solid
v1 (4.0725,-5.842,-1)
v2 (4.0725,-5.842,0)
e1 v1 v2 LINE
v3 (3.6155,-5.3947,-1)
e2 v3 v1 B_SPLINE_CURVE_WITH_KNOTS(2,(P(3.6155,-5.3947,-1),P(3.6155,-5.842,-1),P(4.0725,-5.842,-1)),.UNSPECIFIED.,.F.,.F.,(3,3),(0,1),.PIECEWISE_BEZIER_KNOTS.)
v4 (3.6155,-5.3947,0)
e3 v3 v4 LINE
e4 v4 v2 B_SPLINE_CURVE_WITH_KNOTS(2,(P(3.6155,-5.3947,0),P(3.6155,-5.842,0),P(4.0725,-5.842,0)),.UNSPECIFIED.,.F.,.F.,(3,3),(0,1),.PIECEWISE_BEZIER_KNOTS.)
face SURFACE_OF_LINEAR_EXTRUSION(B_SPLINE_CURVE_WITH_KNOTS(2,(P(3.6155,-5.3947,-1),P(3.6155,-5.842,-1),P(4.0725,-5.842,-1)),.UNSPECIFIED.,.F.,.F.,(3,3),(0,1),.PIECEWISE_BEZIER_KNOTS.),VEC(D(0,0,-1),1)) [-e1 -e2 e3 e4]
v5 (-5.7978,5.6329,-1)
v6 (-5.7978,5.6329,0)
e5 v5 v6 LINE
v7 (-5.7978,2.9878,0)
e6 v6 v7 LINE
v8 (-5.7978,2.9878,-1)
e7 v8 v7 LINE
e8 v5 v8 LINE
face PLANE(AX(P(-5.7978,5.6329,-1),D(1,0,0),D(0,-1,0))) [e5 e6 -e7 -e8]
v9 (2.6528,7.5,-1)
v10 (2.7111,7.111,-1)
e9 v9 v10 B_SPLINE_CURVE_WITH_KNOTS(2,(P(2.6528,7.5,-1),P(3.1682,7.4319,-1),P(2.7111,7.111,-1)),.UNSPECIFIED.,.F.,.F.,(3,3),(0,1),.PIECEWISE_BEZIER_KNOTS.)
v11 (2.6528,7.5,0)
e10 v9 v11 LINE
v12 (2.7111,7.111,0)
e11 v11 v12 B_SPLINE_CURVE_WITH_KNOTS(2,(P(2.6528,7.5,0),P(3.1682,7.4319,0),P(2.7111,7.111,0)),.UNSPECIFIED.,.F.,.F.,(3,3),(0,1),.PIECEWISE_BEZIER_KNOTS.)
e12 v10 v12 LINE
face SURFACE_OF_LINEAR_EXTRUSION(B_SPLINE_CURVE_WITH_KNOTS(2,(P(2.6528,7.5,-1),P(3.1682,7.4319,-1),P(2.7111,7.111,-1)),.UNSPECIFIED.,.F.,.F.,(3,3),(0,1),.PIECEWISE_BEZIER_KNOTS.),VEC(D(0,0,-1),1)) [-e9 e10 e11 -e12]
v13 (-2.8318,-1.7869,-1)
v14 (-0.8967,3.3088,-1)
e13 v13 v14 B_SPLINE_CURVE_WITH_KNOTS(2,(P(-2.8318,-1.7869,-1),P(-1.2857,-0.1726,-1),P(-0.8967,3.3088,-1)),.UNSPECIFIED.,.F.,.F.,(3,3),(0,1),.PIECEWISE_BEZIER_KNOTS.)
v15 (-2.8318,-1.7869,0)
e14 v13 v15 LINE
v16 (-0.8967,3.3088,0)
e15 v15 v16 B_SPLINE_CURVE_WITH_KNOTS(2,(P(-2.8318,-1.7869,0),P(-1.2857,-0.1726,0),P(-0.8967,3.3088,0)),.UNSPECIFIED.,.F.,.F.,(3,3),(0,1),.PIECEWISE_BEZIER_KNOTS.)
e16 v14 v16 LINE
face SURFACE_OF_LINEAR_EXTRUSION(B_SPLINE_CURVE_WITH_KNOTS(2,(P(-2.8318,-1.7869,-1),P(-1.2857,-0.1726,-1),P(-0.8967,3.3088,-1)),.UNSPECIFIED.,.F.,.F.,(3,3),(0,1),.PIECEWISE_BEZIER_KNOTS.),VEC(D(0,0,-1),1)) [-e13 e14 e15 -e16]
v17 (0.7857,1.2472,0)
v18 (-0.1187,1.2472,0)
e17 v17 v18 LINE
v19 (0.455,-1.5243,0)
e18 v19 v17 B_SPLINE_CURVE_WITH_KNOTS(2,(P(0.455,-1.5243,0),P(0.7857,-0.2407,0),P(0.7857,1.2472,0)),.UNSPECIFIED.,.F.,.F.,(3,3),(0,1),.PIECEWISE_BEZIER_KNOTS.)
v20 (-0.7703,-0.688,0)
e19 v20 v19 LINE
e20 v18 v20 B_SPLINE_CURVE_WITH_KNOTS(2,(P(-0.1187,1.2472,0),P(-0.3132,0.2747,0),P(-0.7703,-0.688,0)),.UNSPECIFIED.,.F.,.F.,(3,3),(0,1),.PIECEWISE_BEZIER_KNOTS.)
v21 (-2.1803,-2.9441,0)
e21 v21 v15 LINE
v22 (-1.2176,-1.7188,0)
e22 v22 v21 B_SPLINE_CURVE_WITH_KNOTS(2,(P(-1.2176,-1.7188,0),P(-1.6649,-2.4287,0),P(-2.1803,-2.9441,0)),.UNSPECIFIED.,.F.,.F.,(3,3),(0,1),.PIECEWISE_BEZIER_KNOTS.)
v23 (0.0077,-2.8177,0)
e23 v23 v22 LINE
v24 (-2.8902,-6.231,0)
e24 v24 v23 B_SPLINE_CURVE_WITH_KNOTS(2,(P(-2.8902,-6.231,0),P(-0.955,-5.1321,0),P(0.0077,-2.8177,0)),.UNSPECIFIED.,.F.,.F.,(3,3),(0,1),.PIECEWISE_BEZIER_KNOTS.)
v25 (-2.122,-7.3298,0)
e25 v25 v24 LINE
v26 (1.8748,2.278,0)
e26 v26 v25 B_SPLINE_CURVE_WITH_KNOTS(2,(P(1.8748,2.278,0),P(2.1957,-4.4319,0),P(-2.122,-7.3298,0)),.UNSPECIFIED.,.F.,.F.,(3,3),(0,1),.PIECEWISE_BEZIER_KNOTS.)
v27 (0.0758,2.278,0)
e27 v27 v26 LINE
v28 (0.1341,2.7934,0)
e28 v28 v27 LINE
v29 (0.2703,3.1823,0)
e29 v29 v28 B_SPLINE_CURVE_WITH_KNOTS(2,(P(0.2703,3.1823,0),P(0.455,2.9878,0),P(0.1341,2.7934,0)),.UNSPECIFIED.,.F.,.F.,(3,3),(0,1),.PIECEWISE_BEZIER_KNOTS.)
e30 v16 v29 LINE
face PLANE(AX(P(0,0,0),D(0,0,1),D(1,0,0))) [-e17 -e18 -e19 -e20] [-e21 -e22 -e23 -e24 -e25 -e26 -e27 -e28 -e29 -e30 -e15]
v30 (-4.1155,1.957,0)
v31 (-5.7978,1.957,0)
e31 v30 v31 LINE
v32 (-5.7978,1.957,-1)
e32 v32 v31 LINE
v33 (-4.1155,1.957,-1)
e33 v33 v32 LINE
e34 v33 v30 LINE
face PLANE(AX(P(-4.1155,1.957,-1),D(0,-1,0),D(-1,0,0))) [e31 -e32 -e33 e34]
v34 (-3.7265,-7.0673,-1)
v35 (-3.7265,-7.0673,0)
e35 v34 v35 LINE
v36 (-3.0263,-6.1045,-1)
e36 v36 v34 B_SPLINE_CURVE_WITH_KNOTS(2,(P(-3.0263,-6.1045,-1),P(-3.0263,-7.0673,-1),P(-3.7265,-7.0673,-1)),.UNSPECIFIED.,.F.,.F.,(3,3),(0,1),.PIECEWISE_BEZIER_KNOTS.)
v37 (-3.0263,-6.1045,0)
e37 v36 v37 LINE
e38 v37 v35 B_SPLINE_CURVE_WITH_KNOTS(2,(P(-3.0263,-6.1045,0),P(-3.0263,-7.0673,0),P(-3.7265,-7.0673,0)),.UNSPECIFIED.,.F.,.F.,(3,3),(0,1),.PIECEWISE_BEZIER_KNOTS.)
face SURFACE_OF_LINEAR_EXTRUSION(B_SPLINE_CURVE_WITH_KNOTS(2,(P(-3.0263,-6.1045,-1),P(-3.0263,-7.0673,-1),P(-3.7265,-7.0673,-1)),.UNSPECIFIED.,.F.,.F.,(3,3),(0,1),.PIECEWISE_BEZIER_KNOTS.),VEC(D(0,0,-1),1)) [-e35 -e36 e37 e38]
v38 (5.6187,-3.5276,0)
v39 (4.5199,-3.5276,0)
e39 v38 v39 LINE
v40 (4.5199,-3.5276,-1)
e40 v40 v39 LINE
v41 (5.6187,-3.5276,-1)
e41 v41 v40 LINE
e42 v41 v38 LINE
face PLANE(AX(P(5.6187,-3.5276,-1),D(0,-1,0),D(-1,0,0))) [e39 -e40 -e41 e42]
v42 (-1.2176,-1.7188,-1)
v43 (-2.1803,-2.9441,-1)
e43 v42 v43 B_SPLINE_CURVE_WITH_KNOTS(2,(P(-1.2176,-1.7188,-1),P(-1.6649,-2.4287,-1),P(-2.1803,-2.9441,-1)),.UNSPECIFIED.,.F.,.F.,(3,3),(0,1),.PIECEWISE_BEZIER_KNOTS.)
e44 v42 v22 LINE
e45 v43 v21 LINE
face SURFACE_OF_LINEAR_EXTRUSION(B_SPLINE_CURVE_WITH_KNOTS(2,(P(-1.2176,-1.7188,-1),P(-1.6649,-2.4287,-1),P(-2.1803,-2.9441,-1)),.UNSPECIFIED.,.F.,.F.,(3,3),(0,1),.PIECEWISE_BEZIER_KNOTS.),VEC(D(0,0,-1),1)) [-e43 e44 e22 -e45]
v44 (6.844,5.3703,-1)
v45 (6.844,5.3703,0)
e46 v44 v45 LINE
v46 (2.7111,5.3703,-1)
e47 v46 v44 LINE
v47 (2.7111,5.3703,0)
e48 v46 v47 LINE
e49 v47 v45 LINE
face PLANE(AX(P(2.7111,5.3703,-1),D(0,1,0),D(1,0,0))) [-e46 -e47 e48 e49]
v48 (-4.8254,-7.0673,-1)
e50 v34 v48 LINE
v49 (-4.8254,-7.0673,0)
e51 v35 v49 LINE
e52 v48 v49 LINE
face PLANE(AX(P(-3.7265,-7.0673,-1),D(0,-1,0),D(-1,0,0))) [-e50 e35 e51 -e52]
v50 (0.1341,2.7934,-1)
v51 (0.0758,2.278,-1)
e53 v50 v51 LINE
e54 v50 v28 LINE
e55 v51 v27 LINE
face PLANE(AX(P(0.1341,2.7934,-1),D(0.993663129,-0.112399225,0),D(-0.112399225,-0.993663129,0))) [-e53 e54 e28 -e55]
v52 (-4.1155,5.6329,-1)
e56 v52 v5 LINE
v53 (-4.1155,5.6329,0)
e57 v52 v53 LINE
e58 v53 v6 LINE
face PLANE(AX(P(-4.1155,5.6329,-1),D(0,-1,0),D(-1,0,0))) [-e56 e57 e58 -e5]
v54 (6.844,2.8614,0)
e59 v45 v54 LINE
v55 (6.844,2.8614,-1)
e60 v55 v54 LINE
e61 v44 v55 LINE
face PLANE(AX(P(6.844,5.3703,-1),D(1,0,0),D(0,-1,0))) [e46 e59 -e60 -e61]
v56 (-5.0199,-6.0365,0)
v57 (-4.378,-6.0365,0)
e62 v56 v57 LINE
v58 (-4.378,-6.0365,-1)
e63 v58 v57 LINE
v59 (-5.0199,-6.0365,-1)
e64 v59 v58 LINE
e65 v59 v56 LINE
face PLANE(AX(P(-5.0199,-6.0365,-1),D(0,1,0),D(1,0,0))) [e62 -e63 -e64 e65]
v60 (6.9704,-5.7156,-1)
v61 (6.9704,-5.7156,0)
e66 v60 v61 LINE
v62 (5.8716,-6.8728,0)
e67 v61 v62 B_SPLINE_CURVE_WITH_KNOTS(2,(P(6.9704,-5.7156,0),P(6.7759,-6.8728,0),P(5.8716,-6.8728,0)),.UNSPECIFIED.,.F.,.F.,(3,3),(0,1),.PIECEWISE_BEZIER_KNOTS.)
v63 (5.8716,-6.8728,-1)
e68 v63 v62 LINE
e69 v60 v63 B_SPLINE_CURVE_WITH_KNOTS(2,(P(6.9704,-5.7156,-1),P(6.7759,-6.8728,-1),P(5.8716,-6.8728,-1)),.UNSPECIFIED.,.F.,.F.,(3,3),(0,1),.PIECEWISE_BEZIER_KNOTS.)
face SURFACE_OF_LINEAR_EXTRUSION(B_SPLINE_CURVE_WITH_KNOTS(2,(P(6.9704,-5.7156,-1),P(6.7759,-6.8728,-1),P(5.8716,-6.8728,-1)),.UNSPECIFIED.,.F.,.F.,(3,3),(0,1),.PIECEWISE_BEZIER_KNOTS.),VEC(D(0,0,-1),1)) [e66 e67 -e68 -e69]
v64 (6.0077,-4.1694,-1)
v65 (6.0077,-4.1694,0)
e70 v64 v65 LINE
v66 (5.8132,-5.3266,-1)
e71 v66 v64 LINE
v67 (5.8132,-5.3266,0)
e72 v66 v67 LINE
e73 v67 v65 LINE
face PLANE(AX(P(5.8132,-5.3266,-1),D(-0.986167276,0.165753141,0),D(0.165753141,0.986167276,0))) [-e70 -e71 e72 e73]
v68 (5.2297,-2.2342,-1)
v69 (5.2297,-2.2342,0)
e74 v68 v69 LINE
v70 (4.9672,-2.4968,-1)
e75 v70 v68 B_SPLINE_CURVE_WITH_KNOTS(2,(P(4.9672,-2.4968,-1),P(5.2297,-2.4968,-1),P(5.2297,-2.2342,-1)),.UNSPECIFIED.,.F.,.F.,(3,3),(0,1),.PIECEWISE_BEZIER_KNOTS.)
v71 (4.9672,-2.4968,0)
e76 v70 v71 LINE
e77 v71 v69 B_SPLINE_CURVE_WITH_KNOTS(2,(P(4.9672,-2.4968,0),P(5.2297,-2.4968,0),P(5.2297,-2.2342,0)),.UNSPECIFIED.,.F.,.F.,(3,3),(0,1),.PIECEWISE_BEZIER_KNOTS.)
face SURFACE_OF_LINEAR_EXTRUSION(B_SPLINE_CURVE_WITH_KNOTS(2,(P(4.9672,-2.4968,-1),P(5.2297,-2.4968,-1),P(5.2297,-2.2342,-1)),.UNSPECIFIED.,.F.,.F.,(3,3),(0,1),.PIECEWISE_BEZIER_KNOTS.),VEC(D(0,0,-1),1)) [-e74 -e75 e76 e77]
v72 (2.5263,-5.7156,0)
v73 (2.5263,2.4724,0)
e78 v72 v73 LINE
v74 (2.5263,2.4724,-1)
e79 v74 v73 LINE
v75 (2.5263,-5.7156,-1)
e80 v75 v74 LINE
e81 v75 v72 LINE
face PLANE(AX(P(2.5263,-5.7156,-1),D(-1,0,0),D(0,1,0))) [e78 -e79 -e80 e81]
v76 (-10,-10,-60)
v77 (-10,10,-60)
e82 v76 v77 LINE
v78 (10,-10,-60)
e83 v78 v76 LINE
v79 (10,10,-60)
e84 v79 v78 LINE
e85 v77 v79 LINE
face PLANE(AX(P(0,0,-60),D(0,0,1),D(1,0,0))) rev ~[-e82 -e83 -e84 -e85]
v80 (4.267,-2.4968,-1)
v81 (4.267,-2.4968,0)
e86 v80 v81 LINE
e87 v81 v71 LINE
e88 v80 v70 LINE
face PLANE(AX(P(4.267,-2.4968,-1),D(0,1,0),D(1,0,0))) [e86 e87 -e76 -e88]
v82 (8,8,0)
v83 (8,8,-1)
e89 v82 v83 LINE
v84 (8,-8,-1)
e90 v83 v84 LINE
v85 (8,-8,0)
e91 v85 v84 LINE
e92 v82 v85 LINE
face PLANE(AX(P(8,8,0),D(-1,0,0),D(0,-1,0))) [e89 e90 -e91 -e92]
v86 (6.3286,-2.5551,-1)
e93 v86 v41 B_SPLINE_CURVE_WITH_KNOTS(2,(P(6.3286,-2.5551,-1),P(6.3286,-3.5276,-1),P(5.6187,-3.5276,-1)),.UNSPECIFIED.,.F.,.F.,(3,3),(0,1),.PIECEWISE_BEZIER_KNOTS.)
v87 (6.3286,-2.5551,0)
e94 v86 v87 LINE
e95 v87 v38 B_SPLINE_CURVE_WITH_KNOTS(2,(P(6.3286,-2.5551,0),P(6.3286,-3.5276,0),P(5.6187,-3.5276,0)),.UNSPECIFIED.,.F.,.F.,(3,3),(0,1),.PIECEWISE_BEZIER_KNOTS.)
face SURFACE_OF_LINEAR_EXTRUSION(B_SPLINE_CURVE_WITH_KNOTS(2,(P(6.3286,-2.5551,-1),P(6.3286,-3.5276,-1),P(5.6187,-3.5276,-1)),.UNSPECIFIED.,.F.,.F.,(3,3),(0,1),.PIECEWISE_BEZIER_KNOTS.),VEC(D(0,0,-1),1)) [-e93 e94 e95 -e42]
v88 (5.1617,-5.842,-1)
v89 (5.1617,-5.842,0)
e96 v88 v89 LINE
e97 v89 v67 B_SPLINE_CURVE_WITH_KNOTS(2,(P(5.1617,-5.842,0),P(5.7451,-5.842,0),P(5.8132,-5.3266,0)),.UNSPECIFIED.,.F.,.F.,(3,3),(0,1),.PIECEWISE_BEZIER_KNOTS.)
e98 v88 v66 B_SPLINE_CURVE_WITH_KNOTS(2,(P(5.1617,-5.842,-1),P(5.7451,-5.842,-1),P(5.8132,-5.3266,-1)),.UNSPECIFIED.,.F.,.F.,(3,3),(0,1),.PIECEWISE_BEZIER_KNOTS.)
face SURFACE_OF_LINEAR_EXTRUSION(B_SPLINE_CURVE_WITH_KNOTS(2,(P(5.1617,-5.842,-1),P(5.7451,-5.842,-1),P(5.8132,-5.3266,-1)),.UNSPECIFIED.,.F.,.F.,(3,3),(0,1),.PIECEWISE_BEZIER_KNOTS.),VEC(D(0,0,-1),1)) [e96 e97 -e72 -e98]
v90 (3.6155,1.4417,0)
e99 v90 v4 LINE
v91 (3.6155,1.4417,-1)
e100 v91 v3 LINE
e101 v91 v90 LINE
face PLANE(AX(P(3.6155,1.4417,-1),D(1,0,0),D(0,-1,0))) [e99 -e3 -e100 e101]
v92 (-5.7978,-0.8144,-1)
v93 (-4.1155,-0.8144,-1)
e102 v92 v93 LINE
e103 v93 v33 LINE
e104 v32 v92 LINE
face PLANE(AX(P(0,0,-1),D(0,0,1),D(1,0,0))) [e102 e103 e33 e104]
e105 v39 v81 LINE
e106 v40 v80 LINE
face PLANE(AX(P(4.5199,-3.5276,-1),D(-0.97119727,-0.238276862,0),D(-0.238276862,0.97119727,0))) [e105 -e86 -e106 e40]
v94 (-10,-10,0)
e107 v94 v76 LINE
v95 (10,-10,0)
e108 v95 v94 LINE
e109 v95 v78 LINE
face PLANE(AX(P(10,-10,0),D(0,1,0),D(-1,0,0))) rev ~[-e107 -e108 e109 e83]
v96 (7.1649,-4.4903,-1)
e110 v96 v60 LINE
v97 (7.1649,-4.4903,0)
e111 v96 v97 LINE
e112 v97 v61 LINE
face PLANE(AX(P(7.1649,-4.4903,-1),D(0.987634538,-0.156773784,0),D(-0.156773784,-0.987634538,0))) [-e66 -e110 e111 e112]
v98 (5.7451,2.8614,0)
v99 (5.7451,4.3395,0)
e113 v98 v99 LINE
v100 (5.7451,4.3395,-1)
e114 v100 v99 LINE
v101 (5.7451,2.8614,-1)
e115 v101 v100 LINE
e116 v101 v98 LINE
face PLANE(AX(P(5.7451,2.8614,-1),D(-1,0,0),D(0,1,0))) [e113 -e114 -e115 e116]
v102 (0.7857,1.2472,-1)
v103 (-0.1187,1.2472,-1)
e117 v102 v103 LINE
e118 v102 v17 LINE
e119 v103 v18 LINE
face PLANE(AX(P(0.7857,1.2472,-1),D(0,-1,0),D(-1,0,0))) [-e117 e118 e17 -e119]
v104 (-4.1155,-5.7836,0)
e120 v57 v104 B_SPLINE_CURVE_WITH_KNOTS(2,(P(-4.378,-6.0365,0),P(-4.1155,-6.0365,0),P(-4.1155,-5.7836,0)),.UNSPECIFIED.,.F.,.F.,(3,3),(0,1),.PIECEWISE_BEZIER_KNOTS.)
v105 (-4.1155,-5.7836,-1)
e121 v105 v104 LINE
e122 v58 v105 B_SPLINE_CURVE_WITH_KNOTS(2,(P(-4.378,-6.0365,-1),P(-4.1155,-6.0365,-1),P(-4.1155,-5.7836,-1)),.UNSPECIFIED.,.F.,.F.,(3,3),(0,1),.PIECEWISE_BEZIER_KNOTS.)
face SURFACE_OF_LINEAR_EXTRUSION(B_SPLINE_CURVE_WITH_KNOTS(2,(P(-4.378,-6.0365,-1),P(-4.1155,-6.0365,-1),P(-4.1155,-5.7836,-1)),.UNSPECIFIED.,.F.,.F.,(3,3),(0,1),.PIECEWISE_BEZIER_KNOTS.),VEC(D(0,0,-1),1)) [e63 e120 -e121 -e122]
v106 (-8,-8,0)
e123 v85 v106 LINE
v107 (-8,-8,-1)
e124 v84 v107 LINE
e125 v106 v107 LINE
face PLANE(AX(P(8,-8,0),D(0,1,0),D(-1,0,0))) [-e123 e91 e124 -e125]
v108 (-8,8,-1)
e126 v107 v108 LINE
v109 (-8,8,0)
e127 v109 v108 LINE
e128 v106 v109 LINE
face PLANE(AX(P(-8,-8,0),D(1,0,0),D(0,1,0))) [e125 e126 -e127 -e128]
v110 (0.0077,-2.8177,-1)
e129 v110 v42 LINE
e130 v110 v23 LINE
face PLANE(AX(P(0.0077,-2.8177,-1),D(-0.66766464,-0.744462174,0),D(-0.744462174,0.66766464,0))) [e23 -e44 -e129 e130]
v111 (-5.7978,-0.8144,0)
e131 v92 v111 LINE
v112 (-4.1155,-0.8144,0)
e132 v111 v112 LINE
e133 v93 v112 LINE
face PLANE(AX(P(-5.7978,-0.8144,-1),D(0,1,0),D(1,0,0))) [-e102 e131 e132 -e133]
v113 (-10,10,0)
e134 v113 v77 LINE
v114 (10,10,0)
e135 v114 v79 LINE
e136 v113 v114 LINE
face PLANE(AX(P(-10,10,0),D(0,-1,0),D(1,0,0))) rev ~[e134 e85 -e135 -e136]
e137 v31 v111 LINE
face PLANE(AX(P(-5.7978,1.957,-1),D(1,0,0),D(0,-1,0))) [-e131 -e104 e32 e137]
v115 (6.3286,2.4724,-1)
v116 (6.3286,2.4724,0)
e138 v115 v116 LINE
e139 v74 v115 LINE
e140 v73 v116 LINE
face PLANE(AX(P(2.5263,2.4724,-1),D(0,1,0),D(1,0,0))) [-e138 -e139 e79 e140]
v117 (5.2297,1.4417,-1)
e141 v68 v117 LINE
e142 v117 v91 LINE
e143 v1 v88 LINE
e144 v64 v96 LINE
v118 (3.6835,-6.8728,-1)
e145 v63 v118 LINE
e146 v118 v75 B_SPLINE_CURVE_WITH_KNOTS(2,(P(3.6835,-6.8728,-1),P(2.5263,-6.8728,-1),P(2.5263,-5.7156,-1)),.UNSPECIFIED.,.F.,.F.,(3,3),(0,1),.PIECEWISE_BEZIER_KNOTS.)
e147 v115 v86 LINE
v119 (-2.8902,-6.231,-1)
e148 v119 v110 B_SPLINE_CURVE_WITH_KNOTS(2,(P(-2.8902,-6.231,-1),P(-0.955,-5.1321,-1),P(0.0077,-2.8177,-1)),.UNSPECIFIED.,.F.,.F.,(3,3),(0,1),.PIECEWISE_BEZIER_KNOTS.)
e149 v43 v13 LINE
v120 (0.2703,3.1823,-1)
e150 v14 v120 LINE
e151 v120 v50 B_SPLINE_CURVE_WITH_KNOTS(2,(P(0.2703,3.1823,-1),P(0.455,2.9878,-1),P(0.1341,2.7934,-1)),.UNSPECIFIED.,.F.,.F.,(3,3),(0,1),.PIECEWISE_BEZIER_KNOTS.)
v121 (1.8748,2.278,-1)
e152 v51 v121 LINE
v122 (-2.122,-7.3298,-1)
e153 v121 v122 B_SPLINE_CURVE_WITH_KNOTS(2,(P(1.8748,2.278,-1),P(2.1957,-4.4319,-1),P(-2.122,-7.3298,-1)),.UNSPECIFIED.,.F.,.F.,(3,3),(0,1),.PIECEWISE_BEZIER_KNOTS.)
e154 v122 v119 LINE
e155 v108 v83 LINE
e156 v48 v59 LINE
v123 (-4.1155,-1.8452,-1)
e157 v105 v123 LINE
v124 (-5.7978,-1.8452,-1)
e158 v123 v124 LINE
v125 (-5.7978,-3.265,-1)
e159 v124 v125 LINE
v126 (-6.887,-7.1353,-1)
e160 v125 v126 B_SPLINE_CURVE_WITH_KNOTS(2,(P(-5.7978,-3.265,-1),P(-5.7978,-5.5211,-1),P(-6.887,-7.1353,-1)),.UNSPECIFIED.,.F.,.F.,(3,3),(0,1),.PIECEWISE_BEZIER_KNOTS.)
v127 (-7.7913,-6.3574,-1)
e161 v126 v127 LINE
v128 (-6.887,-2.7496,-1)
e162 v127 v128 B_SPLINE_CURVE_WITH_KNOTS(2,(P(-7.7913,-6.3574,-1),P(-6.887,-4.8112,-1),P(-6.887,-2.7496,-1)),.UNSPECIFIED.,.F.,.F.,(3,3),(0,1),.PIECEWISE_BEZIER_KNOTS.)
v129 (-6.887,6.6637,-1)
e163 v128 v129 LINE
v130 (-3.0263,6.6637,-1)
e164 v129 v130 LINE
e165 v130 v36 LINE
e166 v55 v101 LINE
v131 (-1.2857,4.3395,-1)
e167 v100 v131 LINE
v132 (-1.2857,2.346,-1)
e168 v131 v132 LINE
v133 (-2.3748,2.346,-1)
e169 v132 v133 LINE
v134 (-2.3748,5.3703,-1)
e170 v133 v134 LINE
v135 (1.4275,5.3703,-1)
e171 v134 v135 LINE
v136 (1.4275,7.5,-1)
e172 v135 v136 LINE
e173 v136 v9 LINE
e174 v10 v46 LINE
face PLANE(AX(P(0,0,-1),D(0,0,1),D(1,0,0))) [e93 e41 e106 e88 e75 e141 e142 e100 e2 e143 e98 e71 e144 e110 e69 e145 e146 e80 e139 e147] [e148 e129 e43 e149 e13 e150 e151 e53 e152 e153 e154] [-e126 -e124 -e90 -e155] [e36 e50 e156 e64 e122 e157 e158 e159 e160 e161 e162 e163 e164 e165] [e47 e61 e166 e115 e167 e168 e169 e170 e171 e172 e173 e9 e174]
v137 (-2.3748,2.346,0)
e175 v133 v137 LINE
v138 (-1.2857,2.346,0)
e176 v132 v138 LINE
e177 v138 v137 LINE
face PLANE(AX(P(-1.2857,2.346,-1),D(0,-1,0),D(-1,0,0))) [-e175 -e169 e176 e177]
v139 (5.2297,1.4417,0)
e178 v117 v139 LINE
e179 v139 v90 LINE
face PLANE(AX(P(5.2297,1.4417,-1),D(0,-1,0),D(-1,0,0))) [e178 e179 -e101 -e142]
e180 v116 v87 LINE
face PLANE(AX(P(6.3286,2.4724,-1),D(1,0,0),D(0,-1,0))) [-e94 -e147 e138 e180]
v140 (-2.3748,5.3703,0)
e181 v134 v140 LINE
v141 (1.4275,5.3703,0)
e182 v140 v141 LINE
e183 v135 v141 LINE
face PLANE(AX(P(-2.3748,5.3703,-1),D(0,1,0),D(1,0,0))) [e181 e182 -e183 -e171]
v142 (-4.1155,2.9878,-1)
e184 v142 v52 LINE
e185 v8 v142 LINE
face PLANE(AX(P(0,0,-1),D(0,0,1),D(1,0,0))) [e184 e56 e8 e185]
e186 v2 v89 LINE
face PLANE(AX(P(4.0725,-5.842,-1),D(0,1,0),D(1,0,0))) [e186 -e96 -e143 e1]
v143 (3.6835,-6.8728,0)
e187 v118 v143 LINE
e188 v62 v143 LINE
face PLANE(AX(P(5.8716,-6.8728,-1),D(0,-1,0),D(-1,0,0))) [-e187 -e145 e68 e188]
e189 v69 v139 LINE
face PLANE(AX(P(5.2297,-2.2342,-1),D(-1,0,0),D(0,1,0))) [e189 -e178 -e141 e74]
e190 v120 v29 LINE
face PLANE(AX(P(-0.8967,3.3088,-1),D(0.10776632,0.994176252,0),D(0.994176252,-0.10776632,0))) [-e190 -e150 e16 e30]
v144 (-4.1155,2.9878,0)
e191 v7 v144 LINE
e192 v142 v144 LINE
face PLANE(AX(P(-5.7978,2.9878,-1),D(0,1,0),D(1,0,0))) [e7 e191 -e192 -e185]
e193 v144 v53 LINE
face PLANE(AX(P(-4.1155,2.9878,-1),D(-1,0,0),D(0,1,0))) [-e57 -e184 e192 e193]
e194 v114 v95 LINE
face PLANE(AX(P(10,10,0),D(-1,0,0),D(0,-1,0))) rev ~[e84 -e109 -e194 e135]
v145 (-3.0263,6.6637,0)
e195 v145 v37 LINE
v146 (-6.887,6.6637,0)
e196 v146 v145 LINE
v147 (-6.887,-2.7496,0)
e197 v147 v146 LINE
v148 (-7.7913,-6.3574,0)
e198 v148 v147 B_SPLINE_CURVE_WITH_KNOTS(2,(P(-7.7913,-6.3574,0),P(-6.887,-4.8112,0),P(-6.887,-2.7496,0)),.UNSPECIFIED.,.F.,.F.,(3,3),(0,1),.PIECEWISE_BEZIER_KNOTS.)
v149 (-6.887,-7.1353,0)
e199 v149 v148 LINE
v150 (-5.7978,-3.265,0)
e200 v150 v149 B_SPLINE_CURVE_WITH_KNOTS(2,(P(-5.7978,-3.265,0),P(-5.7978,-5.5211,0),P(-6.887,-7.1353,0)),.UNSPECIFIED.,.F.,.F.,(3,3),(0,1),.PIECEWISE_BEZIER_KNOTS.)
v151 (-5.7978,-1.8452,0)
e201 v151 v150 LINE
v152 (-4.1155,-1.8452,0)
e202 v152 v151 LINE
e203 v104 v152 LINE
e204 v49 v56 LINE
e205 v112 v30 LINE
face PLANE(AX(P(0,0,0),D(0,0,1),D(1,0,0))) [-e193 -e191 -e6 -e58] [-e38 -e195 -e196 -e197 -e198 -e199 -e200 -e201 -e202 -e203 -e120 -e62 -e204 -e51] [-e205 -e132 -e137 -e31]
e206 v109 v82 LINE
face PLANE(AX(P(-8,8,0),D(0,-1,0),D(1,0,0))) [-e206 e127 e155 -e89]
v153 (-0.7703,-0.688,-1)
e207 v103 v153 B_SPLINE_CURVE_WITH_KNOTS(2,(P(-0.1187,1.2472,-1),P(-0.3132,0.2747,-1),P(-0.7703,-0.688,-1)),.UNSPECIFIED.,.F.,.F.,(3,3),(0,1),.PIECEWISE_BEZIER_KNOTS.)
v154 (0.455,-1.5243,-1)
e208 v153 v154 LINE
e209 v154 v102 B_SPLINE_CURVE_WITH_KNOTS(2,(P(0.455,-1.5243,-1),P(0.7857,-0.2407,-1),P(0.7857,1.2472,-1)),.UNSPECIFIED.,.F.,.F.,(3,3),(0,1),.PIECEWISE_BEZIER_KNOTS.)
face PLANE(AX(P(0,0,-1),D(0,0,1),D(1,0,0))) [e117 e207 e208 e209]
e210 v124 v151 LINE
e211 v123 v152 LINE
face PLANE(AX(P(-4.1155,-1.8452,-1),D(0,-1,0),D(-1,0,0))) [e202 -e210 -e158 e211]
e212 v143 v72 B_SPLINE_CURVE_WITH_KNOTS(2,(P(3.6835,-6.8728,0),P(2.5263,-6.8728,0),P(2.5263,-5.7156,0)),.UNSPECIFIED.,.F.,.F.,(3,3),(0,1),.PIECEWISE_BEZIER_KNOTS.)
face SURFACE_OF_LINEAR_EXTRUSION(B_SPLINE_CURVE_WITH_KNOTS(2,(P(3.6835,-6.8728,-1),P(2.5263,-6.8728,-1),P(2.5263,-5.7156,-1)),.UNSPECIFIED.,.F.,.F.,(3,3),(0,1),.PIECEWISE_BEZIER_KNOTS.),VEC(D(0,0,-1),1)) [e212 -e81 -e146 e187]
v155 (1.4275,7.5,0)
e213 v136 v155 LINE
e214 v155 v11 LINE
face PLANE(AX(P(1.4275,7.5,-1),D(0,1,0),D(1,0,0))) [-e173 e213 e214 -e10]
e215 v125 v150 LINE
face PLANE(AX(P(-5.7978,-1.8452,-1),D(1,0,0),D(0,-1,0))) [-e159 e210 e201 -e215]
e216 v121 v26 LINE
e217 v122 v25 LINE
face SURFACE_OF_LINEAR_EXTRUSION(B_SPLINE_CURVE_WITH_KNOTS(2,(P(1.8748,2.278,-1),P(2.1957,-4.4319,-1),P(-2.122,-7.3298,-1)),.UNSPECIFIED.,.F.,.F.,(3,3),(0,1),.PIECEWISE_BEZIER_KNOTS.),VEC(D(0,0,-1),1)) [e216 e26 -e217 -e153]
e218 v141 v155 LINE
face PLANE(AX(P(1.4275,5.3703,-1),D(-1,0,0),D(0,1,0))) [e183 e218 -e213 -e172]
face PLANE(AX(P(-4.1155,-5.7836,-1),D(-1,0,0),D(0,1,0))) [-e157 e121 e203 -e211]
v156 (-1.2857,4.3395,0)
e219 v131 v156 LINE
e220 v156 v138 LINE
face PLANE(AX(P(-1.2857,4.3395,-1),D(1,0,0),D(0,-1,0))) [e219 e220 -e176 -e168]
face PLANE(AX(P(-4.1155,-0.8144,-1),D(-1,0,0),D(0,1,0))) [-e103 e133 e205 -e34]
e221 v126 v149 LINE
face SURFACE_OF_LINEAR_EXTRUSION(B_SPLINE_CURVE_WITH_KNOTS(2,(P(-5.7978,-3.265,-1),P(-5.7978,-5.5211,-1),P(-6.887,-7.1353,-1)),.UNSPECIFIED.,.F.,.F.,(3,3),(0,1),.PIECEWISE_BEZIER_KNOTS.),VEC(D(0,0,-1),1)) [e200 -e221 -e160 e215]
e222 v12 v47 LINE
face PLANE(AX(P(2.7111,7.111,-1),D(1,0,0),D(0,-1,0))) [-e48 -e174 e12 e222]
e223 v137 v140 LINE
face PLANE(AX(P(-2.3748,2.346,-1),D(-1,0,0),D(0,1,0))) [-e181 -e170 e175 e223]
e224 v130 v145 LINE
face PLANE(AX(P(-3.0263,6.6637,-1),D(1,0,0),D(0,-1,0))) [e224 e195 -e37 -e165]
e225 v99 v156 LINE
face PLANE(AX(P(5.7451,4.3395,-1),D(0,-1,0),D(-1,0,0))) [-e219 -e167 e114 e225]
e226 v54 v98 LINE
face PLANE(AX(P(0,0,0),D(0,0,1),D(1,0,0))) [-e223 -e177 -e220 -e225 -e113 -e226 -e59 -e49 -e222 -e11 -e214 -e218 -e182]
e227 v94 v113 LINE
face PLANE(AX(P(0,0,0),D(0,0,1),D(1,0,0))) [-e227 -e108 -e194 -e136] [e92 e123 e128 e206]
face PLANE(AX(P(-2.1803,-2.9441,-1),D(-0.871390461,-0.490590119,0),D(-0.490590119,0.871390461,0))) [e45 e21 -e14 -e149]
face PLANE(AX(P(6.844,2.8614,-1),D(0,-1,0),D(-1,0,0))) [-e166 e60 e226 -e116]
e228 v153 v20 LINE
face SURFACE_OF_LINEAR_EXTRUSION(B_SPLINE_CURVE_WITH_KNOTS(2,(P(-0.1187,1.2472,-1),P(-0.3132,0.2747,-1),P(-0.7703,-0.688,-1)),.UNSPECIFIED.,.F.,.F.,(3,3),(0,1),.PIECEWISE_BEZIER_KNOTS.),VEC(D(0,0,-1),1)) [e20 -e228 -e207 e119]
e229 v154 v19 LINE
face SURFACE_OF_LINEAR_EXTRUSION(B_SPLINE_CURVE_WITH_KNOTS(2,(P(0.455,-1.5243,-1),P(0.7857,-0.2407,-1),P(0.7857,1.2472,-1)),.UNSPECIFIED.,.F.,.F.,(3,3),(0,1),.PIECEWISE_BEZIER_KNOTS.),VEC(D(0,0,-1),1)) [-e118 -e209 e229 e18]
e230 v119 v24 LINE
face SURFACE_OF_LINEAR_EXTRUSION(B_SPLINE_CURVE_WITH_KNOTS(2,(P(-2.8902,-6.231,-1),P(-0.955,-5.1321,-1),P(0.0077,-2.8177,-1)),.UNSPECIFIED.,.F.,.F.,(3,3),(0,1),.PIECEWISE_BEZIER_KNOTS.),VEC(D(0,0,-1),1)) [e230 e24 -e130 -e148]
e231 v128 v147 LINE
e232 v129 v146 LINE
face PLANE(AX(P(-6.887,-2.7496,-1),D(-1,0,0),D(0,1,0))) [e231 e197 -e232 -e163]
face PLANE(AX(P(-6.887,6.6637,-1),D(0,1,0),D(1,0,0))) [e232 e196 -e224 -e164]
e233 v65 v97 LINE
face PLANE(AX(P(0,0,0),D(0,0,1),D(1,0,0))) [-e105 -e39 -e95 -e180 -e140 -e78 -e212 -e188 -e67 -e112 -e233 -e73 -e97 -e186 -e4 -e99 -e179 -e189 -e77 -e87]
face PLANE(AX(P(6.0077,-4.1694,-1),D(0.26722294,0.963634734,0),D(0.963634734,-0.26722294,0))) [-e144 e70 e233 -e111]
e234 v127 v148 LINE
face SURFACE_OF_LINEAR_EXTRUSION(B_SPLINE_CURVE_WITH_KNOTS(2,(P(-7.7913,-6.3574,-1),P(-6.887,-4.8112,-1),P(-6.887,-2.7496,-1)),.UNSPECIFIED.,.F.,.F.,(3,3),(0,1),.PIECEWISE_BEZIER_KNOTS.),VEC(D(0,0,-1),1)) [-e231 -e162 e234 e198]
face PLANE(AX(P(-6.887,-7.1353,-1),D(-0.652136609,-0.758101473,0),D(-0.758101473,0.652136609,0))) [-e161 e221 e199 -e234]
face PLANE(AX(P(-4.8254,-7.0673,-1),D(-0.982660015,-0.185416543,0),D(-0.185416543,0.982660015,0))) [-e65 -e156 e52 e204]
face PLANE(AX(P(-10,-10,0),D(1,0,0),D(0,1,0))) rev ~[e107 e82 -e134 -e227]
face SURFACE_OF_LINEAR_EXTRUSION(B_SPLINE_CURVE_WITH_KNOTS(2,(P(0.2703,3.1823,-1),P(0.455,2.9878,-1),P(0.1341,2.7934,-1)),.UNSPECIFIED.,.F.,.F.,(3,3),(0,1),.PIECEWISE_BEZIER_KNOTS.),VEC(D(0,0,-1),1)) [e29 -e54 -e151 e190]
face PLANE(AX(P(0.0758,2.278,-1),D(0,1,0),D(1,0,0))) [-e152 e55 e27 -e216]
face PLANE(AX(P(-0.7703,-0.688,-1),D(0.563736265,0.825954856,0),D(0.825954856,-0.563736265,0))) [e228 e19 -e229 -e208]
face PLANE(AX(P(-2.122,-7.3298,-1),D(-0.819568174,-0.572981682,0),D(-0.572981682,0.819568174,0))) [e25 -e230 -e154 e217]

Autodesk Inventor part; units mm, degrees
ref_plane "YZ Plane" through (0, 0, 0) normal (1, 0, 0) x (0, 1, 0)
ref_plane "XZ Plane" through (0, 0, 0) normal (0, 1, 0) x (-1, 0, 0)
ref_plane "XY Plane" through (0, 0, 0) normal (0, 0, 1) x (1, 0, 0)
sketch "スケッチ1" plane through (0, 0, 0) normal (0, 0, 1) x (1, 0, 0)
  line L0 (-10, 10) -> (10, 10)
  line L1 (10, 10) -> (10, -10)
  line L2 (10, -10) -> (-10, -10)
  line L3 (-10, -10) -> (-10, 10)
  line L4 (-10, 10) -> (10, -10) construction
  line L5 (10, 10) -> (-10, -10) construction
  point P0 (0, 0)
  dimension "d0" = 20
  dimension "d1" = 20
extrude "押し出し1" add sketch "スケッチ1" against normal blind 60
sketch "スケッチ2" plane through (0, 0, 0) normal (0, 0, 1) x (1, 0, 0)
  line L0 (-8, 8) -> (8, 8)
  line L1 (8, 8) -> (8, -8)
  line L2 (8, -8) -> (-8, -8)
  line L3 (-8, -8) -> (-8, 8)
  line L4 (-8, 8) -> (8, -8) construction
  line L5 (8, 8) -> (-8, -8) construction
  point P0 (0, 0)
  dimension "d4" = 16
  dimension "d5" = 16
extrude "押し出し2" cut sketch "スケッチ2" against normal blind 1
sketch "スケッチ3" plane through (0, 0, -1) normal (0, 0, 1) x (1, 0, 0)
  line L0 (-7.5, 7.5) -> (7, 7.5) construction
  line L1 (7, 7.5) -> (7, -7.5) construction
  line L2 (7, -7.5) -> (-7.5, -7.5) construction
  line L3 (-7.5, -7.5) -> (-7.5, 7.5) construction
  line L4 (-8, 8) -> (8, 8) projected
  line L5 (8, -8) -> (-8, -8) projected
  line L6 (-8, -8) -> (-8, 8) projected
  line L7 (8, 8) -> (8, -8) projected
  spline S0 degree 2 poles (-4.378, -6.0365) (-4.1155, -6.0365) (-4.1155, -5.7836) knots 0 0 0 1 1 1
  line L8 (-4.1155, -5.7836) -> (-4.1155, -1.8452)
  line L9 (-4.1155, -1.8452) -> (-5.7978, -1.8452)
  line L10 (-5.7978, -1.8452) -> (-5.7978, -3.265)
  spline S1 degree 2 poles (-5.7978, -3.265) (-5.7978, -5.5211) (-6.887, -7.1353) knots 0 0 0 1 1 1
  line L11 (-6.887, -7.1353) -> (-7.7913, -6.3574)
  spline S2 degree 2 poles (-7.7913, -6.3574) (-6.887, -4.8112) (-6.887, -2.7496) knots 0 0 0 1 1 1
  line L12 (-6.887, -2.7496) -> (-6.887, 6.6637)
  line L13 (-6.887, 6.6637) -> (-3.0263, 6.6637)
  line L14 (-3.0263, 6.6637) -> (-3.0263, -6.1045)
  spline S3 degree 2 poles (-3.0263, -6.1045) (-3.0263, -7.0673) (-3.7265, -7.0673) knots 0 0 0 1 1 1
  line L15 (-3.7265, -7.0673) -> (-4.8254, -7.0673)
  line L16 (-4.8254, -7.0673) -> (-5.0199, -6.0365)
  line L17 (-5.0199, -6.0365) -> (-4.378, -6.0365)
  line L18 (0.0758, 2.278) -> (1.8748, 2.278)
  spline S4 degree 2 poles (1.8748, 2.278) (2.1957, -4.4319) (-2.122, -7.3298) knots 0 0 0 1 1 1
  line L19 (-2.122, -7.3298) -> (-2.8902, -6.231)
  spline S5 degree 2 poles (-2.8902, -6.231) (-0.955, -5.1321) (0.0077, -2.8177) knots 0 0 0 1 1 1
  line L20 (0.0077, -2.8177) -> (-1.2176, -1.7188)
  spline S6 degree 2 poles (-1.2176, -1.7188) (-1.6649, -2.4287) (-2.1803, -2.9441) knots 0 0 0 1 1 1
  line L21 (-2.1803, -2.9441) -> (-2.8318, -1.7869)
  spline S7 degree 2 poles (-2.8318, -1.7869) (-1.2857, -0.1726) (-0.8967, 3.3088) knots 0 0 0 1 1 1
  line L22 (-0.8967, 3.3088) -> (0.2703, 3.1823)
  spline S8 degree 2 poles (0.2703, 3.1823) (0.455, 2.9878) (0.1341, 2.7934) knots 0 0 0 1 1 1
  line L23 (0.1341, 2.7934) -> (0.0758, 2.278)
  spline S9 degree 2 poles (6.3286, -2.5551) (6.3286, -3.5276) (5.6187, -3.5276) knots 0 0 0 1 1 1
  line L24 (5.6187, -3.5276) -> (4.5199, -3.5276)
  line L25 (4.5199, -3.5276) -> (4.267, -2.4968)
  line L26 (4.267, -2.4968) -> (4.9672, -2.4968)
  spline S10 degree 2 poles (4.9672, -2.4968) (5.2297, -2.4968) (5.2297, -2.2342) knots 0 0 0 1 1 1
  line L27 (5.2297, -2.2342) -> (5.2297, 1.4417)
  line L28 (5.2297, 1.4417) -> (3.6155, 1.4417)
  line L29 (3.6155, 1.4417) -> (3.6155, -5.3947)
  spline S11 degree 2 poles (3.6155, -5.3947) (3.6155, -5.842) (4.0725, -5.842) knots 0 0 0 1 1 1
  line L30 (4.0725, -5.842) -> (5.1617, -5.842)
  spline S12 degree 2 poles (5.1617, -5.842) (5.7451, -5.842) (5.8132, -5.3266) knots 0 0 0 1 1 1
  line L31 (5.8132, -5.3266) -> (6.0077, -4.1694)
  line L32 (6.0077, -4.1694) -> (7.1649, -4.4903)
  line L33 (7.1649, -4.4903) -> (6.9704, -5.7156)
  spline S13 degree 2 poles (6.9704, -5.7156) (6.7759, -6.8728) (5.8716, -6.8728) knots 0 0 0 1 1 1
  line L34 (5.8716, -6.8728) -> (3.6835, -6.8728)
  spline S14 degree 2 poles (3.6835, -6.8728) (2.5263, -6.8728) (2.5263, -5.7156) knots 0 0 0 1 1 1
  line L35 (2.5263, -5.7156) -> (2.5263, 2.4724)
  line L36 (2.5263, 2.4724) -> (6.3286, 2.4724)
  line L37 (6.3286, 2.4724) -> (6.3286, -2.5551)
  line L38 (-2.3748, 2.346) -> (-2.3748, 5.3703)
  line L39 (-2.3748, 5.3703) -> (1.4275, 5.3703)
  line L40 (1.4275, 5.3703) -> (1.4275, 7.5)
  line L41 (1.4275, 7.5) -> (2.6528, 7.5)
  spline S15 degree 2 poles (2.6528, 7.5) (3.1682, 7.4319) (2.7111, 7.111) knots 0 0 0 1 1 1
  line L42 (2.7111, 7.111) -> (2.7111, 5.3703)
  line L43 (2.7111, 5.3703) -> (6.844, 5.3703)
  line L44 (6.844, 5.3703) -> (6.844, 2.8614)
  line L45 (6.844, 2.8614) -> (5.7451, 2.8614)
  line L46 (5.7451, 2.8614) -> (5.7451, 4.3395)
  line L47 (5.7451, 4.3395) -> (-1.2857, 4.3395)
  line L48 (-1.2857, 4.3395) -> (-1.2857, 2.346)
  line L49 (-1.2857, 2.346) -> (-2.3748, 2.346)
  line L50 (-4.1155, -0.8144) -> (-4.1155, 1.957)
  line L51 (-4.1155, 1.957) -> (-5.7978, 1.957)
  line L52 (-5.7978, 1.957) -> (-5.7978, -0.8144)
  line L53 (-5.7978, -0.8144) -> (-4.1155, -0.8144)
  line L54 (-5.7978, 2.9878) -> (-4.1155, 2.9878)
  line L55 (-4.1155, 2.9878) -> (-4.1155, 5.6329)
  line L56 (-4.1155, 5.6329) -> (-5.7978, 5.6329)
  line L57 (-5.7978, 5.6329) -> (-5.7978, 2.9878)
  spline S16 degree 2 poles (-0.1187, 1.2472) (-0.3132, 0.2747) (-0.7703, -0.688) knots 0 0 0 1 1 1
  line L58 (-0.7703, -0.688) -> (0.455, -1.5243)
  spline S17 degree 2 poles (0.455, -1.5243) (0.7857, -0.2407) (0.7857, 1.2472) knots 0 0 0 1 1 1
  line L59 (0.7857, 1.2472) -> (-0.1187, 1.2472)
  point P0 (0, 0)
  dimension "d8" = 0.5
  dimension "d9" = 0.5
  dimension "d10" = 0.5
  dimension "d11" = 1
extrude "押し出し3" add sketch "スケッチ3" along normal blind 1 contours S0 L8 L9 L10 S1 L11 S2 L12 L13 L14 S3 L15 L16 L17 | L18 S4 L19 S5 L20 S6 L21 S7 L22 S8 L23 | S9 L24 L25 L26 S10 L27 L28 L29 S11 L30 S12 L31 L32 L33 S13 L34 S14 L35 L36 L37 | L38 L39 L40 L41 S15 L42 L43 L44 L45 L46 L47 L48 L49
properties part number "ハンコ"
